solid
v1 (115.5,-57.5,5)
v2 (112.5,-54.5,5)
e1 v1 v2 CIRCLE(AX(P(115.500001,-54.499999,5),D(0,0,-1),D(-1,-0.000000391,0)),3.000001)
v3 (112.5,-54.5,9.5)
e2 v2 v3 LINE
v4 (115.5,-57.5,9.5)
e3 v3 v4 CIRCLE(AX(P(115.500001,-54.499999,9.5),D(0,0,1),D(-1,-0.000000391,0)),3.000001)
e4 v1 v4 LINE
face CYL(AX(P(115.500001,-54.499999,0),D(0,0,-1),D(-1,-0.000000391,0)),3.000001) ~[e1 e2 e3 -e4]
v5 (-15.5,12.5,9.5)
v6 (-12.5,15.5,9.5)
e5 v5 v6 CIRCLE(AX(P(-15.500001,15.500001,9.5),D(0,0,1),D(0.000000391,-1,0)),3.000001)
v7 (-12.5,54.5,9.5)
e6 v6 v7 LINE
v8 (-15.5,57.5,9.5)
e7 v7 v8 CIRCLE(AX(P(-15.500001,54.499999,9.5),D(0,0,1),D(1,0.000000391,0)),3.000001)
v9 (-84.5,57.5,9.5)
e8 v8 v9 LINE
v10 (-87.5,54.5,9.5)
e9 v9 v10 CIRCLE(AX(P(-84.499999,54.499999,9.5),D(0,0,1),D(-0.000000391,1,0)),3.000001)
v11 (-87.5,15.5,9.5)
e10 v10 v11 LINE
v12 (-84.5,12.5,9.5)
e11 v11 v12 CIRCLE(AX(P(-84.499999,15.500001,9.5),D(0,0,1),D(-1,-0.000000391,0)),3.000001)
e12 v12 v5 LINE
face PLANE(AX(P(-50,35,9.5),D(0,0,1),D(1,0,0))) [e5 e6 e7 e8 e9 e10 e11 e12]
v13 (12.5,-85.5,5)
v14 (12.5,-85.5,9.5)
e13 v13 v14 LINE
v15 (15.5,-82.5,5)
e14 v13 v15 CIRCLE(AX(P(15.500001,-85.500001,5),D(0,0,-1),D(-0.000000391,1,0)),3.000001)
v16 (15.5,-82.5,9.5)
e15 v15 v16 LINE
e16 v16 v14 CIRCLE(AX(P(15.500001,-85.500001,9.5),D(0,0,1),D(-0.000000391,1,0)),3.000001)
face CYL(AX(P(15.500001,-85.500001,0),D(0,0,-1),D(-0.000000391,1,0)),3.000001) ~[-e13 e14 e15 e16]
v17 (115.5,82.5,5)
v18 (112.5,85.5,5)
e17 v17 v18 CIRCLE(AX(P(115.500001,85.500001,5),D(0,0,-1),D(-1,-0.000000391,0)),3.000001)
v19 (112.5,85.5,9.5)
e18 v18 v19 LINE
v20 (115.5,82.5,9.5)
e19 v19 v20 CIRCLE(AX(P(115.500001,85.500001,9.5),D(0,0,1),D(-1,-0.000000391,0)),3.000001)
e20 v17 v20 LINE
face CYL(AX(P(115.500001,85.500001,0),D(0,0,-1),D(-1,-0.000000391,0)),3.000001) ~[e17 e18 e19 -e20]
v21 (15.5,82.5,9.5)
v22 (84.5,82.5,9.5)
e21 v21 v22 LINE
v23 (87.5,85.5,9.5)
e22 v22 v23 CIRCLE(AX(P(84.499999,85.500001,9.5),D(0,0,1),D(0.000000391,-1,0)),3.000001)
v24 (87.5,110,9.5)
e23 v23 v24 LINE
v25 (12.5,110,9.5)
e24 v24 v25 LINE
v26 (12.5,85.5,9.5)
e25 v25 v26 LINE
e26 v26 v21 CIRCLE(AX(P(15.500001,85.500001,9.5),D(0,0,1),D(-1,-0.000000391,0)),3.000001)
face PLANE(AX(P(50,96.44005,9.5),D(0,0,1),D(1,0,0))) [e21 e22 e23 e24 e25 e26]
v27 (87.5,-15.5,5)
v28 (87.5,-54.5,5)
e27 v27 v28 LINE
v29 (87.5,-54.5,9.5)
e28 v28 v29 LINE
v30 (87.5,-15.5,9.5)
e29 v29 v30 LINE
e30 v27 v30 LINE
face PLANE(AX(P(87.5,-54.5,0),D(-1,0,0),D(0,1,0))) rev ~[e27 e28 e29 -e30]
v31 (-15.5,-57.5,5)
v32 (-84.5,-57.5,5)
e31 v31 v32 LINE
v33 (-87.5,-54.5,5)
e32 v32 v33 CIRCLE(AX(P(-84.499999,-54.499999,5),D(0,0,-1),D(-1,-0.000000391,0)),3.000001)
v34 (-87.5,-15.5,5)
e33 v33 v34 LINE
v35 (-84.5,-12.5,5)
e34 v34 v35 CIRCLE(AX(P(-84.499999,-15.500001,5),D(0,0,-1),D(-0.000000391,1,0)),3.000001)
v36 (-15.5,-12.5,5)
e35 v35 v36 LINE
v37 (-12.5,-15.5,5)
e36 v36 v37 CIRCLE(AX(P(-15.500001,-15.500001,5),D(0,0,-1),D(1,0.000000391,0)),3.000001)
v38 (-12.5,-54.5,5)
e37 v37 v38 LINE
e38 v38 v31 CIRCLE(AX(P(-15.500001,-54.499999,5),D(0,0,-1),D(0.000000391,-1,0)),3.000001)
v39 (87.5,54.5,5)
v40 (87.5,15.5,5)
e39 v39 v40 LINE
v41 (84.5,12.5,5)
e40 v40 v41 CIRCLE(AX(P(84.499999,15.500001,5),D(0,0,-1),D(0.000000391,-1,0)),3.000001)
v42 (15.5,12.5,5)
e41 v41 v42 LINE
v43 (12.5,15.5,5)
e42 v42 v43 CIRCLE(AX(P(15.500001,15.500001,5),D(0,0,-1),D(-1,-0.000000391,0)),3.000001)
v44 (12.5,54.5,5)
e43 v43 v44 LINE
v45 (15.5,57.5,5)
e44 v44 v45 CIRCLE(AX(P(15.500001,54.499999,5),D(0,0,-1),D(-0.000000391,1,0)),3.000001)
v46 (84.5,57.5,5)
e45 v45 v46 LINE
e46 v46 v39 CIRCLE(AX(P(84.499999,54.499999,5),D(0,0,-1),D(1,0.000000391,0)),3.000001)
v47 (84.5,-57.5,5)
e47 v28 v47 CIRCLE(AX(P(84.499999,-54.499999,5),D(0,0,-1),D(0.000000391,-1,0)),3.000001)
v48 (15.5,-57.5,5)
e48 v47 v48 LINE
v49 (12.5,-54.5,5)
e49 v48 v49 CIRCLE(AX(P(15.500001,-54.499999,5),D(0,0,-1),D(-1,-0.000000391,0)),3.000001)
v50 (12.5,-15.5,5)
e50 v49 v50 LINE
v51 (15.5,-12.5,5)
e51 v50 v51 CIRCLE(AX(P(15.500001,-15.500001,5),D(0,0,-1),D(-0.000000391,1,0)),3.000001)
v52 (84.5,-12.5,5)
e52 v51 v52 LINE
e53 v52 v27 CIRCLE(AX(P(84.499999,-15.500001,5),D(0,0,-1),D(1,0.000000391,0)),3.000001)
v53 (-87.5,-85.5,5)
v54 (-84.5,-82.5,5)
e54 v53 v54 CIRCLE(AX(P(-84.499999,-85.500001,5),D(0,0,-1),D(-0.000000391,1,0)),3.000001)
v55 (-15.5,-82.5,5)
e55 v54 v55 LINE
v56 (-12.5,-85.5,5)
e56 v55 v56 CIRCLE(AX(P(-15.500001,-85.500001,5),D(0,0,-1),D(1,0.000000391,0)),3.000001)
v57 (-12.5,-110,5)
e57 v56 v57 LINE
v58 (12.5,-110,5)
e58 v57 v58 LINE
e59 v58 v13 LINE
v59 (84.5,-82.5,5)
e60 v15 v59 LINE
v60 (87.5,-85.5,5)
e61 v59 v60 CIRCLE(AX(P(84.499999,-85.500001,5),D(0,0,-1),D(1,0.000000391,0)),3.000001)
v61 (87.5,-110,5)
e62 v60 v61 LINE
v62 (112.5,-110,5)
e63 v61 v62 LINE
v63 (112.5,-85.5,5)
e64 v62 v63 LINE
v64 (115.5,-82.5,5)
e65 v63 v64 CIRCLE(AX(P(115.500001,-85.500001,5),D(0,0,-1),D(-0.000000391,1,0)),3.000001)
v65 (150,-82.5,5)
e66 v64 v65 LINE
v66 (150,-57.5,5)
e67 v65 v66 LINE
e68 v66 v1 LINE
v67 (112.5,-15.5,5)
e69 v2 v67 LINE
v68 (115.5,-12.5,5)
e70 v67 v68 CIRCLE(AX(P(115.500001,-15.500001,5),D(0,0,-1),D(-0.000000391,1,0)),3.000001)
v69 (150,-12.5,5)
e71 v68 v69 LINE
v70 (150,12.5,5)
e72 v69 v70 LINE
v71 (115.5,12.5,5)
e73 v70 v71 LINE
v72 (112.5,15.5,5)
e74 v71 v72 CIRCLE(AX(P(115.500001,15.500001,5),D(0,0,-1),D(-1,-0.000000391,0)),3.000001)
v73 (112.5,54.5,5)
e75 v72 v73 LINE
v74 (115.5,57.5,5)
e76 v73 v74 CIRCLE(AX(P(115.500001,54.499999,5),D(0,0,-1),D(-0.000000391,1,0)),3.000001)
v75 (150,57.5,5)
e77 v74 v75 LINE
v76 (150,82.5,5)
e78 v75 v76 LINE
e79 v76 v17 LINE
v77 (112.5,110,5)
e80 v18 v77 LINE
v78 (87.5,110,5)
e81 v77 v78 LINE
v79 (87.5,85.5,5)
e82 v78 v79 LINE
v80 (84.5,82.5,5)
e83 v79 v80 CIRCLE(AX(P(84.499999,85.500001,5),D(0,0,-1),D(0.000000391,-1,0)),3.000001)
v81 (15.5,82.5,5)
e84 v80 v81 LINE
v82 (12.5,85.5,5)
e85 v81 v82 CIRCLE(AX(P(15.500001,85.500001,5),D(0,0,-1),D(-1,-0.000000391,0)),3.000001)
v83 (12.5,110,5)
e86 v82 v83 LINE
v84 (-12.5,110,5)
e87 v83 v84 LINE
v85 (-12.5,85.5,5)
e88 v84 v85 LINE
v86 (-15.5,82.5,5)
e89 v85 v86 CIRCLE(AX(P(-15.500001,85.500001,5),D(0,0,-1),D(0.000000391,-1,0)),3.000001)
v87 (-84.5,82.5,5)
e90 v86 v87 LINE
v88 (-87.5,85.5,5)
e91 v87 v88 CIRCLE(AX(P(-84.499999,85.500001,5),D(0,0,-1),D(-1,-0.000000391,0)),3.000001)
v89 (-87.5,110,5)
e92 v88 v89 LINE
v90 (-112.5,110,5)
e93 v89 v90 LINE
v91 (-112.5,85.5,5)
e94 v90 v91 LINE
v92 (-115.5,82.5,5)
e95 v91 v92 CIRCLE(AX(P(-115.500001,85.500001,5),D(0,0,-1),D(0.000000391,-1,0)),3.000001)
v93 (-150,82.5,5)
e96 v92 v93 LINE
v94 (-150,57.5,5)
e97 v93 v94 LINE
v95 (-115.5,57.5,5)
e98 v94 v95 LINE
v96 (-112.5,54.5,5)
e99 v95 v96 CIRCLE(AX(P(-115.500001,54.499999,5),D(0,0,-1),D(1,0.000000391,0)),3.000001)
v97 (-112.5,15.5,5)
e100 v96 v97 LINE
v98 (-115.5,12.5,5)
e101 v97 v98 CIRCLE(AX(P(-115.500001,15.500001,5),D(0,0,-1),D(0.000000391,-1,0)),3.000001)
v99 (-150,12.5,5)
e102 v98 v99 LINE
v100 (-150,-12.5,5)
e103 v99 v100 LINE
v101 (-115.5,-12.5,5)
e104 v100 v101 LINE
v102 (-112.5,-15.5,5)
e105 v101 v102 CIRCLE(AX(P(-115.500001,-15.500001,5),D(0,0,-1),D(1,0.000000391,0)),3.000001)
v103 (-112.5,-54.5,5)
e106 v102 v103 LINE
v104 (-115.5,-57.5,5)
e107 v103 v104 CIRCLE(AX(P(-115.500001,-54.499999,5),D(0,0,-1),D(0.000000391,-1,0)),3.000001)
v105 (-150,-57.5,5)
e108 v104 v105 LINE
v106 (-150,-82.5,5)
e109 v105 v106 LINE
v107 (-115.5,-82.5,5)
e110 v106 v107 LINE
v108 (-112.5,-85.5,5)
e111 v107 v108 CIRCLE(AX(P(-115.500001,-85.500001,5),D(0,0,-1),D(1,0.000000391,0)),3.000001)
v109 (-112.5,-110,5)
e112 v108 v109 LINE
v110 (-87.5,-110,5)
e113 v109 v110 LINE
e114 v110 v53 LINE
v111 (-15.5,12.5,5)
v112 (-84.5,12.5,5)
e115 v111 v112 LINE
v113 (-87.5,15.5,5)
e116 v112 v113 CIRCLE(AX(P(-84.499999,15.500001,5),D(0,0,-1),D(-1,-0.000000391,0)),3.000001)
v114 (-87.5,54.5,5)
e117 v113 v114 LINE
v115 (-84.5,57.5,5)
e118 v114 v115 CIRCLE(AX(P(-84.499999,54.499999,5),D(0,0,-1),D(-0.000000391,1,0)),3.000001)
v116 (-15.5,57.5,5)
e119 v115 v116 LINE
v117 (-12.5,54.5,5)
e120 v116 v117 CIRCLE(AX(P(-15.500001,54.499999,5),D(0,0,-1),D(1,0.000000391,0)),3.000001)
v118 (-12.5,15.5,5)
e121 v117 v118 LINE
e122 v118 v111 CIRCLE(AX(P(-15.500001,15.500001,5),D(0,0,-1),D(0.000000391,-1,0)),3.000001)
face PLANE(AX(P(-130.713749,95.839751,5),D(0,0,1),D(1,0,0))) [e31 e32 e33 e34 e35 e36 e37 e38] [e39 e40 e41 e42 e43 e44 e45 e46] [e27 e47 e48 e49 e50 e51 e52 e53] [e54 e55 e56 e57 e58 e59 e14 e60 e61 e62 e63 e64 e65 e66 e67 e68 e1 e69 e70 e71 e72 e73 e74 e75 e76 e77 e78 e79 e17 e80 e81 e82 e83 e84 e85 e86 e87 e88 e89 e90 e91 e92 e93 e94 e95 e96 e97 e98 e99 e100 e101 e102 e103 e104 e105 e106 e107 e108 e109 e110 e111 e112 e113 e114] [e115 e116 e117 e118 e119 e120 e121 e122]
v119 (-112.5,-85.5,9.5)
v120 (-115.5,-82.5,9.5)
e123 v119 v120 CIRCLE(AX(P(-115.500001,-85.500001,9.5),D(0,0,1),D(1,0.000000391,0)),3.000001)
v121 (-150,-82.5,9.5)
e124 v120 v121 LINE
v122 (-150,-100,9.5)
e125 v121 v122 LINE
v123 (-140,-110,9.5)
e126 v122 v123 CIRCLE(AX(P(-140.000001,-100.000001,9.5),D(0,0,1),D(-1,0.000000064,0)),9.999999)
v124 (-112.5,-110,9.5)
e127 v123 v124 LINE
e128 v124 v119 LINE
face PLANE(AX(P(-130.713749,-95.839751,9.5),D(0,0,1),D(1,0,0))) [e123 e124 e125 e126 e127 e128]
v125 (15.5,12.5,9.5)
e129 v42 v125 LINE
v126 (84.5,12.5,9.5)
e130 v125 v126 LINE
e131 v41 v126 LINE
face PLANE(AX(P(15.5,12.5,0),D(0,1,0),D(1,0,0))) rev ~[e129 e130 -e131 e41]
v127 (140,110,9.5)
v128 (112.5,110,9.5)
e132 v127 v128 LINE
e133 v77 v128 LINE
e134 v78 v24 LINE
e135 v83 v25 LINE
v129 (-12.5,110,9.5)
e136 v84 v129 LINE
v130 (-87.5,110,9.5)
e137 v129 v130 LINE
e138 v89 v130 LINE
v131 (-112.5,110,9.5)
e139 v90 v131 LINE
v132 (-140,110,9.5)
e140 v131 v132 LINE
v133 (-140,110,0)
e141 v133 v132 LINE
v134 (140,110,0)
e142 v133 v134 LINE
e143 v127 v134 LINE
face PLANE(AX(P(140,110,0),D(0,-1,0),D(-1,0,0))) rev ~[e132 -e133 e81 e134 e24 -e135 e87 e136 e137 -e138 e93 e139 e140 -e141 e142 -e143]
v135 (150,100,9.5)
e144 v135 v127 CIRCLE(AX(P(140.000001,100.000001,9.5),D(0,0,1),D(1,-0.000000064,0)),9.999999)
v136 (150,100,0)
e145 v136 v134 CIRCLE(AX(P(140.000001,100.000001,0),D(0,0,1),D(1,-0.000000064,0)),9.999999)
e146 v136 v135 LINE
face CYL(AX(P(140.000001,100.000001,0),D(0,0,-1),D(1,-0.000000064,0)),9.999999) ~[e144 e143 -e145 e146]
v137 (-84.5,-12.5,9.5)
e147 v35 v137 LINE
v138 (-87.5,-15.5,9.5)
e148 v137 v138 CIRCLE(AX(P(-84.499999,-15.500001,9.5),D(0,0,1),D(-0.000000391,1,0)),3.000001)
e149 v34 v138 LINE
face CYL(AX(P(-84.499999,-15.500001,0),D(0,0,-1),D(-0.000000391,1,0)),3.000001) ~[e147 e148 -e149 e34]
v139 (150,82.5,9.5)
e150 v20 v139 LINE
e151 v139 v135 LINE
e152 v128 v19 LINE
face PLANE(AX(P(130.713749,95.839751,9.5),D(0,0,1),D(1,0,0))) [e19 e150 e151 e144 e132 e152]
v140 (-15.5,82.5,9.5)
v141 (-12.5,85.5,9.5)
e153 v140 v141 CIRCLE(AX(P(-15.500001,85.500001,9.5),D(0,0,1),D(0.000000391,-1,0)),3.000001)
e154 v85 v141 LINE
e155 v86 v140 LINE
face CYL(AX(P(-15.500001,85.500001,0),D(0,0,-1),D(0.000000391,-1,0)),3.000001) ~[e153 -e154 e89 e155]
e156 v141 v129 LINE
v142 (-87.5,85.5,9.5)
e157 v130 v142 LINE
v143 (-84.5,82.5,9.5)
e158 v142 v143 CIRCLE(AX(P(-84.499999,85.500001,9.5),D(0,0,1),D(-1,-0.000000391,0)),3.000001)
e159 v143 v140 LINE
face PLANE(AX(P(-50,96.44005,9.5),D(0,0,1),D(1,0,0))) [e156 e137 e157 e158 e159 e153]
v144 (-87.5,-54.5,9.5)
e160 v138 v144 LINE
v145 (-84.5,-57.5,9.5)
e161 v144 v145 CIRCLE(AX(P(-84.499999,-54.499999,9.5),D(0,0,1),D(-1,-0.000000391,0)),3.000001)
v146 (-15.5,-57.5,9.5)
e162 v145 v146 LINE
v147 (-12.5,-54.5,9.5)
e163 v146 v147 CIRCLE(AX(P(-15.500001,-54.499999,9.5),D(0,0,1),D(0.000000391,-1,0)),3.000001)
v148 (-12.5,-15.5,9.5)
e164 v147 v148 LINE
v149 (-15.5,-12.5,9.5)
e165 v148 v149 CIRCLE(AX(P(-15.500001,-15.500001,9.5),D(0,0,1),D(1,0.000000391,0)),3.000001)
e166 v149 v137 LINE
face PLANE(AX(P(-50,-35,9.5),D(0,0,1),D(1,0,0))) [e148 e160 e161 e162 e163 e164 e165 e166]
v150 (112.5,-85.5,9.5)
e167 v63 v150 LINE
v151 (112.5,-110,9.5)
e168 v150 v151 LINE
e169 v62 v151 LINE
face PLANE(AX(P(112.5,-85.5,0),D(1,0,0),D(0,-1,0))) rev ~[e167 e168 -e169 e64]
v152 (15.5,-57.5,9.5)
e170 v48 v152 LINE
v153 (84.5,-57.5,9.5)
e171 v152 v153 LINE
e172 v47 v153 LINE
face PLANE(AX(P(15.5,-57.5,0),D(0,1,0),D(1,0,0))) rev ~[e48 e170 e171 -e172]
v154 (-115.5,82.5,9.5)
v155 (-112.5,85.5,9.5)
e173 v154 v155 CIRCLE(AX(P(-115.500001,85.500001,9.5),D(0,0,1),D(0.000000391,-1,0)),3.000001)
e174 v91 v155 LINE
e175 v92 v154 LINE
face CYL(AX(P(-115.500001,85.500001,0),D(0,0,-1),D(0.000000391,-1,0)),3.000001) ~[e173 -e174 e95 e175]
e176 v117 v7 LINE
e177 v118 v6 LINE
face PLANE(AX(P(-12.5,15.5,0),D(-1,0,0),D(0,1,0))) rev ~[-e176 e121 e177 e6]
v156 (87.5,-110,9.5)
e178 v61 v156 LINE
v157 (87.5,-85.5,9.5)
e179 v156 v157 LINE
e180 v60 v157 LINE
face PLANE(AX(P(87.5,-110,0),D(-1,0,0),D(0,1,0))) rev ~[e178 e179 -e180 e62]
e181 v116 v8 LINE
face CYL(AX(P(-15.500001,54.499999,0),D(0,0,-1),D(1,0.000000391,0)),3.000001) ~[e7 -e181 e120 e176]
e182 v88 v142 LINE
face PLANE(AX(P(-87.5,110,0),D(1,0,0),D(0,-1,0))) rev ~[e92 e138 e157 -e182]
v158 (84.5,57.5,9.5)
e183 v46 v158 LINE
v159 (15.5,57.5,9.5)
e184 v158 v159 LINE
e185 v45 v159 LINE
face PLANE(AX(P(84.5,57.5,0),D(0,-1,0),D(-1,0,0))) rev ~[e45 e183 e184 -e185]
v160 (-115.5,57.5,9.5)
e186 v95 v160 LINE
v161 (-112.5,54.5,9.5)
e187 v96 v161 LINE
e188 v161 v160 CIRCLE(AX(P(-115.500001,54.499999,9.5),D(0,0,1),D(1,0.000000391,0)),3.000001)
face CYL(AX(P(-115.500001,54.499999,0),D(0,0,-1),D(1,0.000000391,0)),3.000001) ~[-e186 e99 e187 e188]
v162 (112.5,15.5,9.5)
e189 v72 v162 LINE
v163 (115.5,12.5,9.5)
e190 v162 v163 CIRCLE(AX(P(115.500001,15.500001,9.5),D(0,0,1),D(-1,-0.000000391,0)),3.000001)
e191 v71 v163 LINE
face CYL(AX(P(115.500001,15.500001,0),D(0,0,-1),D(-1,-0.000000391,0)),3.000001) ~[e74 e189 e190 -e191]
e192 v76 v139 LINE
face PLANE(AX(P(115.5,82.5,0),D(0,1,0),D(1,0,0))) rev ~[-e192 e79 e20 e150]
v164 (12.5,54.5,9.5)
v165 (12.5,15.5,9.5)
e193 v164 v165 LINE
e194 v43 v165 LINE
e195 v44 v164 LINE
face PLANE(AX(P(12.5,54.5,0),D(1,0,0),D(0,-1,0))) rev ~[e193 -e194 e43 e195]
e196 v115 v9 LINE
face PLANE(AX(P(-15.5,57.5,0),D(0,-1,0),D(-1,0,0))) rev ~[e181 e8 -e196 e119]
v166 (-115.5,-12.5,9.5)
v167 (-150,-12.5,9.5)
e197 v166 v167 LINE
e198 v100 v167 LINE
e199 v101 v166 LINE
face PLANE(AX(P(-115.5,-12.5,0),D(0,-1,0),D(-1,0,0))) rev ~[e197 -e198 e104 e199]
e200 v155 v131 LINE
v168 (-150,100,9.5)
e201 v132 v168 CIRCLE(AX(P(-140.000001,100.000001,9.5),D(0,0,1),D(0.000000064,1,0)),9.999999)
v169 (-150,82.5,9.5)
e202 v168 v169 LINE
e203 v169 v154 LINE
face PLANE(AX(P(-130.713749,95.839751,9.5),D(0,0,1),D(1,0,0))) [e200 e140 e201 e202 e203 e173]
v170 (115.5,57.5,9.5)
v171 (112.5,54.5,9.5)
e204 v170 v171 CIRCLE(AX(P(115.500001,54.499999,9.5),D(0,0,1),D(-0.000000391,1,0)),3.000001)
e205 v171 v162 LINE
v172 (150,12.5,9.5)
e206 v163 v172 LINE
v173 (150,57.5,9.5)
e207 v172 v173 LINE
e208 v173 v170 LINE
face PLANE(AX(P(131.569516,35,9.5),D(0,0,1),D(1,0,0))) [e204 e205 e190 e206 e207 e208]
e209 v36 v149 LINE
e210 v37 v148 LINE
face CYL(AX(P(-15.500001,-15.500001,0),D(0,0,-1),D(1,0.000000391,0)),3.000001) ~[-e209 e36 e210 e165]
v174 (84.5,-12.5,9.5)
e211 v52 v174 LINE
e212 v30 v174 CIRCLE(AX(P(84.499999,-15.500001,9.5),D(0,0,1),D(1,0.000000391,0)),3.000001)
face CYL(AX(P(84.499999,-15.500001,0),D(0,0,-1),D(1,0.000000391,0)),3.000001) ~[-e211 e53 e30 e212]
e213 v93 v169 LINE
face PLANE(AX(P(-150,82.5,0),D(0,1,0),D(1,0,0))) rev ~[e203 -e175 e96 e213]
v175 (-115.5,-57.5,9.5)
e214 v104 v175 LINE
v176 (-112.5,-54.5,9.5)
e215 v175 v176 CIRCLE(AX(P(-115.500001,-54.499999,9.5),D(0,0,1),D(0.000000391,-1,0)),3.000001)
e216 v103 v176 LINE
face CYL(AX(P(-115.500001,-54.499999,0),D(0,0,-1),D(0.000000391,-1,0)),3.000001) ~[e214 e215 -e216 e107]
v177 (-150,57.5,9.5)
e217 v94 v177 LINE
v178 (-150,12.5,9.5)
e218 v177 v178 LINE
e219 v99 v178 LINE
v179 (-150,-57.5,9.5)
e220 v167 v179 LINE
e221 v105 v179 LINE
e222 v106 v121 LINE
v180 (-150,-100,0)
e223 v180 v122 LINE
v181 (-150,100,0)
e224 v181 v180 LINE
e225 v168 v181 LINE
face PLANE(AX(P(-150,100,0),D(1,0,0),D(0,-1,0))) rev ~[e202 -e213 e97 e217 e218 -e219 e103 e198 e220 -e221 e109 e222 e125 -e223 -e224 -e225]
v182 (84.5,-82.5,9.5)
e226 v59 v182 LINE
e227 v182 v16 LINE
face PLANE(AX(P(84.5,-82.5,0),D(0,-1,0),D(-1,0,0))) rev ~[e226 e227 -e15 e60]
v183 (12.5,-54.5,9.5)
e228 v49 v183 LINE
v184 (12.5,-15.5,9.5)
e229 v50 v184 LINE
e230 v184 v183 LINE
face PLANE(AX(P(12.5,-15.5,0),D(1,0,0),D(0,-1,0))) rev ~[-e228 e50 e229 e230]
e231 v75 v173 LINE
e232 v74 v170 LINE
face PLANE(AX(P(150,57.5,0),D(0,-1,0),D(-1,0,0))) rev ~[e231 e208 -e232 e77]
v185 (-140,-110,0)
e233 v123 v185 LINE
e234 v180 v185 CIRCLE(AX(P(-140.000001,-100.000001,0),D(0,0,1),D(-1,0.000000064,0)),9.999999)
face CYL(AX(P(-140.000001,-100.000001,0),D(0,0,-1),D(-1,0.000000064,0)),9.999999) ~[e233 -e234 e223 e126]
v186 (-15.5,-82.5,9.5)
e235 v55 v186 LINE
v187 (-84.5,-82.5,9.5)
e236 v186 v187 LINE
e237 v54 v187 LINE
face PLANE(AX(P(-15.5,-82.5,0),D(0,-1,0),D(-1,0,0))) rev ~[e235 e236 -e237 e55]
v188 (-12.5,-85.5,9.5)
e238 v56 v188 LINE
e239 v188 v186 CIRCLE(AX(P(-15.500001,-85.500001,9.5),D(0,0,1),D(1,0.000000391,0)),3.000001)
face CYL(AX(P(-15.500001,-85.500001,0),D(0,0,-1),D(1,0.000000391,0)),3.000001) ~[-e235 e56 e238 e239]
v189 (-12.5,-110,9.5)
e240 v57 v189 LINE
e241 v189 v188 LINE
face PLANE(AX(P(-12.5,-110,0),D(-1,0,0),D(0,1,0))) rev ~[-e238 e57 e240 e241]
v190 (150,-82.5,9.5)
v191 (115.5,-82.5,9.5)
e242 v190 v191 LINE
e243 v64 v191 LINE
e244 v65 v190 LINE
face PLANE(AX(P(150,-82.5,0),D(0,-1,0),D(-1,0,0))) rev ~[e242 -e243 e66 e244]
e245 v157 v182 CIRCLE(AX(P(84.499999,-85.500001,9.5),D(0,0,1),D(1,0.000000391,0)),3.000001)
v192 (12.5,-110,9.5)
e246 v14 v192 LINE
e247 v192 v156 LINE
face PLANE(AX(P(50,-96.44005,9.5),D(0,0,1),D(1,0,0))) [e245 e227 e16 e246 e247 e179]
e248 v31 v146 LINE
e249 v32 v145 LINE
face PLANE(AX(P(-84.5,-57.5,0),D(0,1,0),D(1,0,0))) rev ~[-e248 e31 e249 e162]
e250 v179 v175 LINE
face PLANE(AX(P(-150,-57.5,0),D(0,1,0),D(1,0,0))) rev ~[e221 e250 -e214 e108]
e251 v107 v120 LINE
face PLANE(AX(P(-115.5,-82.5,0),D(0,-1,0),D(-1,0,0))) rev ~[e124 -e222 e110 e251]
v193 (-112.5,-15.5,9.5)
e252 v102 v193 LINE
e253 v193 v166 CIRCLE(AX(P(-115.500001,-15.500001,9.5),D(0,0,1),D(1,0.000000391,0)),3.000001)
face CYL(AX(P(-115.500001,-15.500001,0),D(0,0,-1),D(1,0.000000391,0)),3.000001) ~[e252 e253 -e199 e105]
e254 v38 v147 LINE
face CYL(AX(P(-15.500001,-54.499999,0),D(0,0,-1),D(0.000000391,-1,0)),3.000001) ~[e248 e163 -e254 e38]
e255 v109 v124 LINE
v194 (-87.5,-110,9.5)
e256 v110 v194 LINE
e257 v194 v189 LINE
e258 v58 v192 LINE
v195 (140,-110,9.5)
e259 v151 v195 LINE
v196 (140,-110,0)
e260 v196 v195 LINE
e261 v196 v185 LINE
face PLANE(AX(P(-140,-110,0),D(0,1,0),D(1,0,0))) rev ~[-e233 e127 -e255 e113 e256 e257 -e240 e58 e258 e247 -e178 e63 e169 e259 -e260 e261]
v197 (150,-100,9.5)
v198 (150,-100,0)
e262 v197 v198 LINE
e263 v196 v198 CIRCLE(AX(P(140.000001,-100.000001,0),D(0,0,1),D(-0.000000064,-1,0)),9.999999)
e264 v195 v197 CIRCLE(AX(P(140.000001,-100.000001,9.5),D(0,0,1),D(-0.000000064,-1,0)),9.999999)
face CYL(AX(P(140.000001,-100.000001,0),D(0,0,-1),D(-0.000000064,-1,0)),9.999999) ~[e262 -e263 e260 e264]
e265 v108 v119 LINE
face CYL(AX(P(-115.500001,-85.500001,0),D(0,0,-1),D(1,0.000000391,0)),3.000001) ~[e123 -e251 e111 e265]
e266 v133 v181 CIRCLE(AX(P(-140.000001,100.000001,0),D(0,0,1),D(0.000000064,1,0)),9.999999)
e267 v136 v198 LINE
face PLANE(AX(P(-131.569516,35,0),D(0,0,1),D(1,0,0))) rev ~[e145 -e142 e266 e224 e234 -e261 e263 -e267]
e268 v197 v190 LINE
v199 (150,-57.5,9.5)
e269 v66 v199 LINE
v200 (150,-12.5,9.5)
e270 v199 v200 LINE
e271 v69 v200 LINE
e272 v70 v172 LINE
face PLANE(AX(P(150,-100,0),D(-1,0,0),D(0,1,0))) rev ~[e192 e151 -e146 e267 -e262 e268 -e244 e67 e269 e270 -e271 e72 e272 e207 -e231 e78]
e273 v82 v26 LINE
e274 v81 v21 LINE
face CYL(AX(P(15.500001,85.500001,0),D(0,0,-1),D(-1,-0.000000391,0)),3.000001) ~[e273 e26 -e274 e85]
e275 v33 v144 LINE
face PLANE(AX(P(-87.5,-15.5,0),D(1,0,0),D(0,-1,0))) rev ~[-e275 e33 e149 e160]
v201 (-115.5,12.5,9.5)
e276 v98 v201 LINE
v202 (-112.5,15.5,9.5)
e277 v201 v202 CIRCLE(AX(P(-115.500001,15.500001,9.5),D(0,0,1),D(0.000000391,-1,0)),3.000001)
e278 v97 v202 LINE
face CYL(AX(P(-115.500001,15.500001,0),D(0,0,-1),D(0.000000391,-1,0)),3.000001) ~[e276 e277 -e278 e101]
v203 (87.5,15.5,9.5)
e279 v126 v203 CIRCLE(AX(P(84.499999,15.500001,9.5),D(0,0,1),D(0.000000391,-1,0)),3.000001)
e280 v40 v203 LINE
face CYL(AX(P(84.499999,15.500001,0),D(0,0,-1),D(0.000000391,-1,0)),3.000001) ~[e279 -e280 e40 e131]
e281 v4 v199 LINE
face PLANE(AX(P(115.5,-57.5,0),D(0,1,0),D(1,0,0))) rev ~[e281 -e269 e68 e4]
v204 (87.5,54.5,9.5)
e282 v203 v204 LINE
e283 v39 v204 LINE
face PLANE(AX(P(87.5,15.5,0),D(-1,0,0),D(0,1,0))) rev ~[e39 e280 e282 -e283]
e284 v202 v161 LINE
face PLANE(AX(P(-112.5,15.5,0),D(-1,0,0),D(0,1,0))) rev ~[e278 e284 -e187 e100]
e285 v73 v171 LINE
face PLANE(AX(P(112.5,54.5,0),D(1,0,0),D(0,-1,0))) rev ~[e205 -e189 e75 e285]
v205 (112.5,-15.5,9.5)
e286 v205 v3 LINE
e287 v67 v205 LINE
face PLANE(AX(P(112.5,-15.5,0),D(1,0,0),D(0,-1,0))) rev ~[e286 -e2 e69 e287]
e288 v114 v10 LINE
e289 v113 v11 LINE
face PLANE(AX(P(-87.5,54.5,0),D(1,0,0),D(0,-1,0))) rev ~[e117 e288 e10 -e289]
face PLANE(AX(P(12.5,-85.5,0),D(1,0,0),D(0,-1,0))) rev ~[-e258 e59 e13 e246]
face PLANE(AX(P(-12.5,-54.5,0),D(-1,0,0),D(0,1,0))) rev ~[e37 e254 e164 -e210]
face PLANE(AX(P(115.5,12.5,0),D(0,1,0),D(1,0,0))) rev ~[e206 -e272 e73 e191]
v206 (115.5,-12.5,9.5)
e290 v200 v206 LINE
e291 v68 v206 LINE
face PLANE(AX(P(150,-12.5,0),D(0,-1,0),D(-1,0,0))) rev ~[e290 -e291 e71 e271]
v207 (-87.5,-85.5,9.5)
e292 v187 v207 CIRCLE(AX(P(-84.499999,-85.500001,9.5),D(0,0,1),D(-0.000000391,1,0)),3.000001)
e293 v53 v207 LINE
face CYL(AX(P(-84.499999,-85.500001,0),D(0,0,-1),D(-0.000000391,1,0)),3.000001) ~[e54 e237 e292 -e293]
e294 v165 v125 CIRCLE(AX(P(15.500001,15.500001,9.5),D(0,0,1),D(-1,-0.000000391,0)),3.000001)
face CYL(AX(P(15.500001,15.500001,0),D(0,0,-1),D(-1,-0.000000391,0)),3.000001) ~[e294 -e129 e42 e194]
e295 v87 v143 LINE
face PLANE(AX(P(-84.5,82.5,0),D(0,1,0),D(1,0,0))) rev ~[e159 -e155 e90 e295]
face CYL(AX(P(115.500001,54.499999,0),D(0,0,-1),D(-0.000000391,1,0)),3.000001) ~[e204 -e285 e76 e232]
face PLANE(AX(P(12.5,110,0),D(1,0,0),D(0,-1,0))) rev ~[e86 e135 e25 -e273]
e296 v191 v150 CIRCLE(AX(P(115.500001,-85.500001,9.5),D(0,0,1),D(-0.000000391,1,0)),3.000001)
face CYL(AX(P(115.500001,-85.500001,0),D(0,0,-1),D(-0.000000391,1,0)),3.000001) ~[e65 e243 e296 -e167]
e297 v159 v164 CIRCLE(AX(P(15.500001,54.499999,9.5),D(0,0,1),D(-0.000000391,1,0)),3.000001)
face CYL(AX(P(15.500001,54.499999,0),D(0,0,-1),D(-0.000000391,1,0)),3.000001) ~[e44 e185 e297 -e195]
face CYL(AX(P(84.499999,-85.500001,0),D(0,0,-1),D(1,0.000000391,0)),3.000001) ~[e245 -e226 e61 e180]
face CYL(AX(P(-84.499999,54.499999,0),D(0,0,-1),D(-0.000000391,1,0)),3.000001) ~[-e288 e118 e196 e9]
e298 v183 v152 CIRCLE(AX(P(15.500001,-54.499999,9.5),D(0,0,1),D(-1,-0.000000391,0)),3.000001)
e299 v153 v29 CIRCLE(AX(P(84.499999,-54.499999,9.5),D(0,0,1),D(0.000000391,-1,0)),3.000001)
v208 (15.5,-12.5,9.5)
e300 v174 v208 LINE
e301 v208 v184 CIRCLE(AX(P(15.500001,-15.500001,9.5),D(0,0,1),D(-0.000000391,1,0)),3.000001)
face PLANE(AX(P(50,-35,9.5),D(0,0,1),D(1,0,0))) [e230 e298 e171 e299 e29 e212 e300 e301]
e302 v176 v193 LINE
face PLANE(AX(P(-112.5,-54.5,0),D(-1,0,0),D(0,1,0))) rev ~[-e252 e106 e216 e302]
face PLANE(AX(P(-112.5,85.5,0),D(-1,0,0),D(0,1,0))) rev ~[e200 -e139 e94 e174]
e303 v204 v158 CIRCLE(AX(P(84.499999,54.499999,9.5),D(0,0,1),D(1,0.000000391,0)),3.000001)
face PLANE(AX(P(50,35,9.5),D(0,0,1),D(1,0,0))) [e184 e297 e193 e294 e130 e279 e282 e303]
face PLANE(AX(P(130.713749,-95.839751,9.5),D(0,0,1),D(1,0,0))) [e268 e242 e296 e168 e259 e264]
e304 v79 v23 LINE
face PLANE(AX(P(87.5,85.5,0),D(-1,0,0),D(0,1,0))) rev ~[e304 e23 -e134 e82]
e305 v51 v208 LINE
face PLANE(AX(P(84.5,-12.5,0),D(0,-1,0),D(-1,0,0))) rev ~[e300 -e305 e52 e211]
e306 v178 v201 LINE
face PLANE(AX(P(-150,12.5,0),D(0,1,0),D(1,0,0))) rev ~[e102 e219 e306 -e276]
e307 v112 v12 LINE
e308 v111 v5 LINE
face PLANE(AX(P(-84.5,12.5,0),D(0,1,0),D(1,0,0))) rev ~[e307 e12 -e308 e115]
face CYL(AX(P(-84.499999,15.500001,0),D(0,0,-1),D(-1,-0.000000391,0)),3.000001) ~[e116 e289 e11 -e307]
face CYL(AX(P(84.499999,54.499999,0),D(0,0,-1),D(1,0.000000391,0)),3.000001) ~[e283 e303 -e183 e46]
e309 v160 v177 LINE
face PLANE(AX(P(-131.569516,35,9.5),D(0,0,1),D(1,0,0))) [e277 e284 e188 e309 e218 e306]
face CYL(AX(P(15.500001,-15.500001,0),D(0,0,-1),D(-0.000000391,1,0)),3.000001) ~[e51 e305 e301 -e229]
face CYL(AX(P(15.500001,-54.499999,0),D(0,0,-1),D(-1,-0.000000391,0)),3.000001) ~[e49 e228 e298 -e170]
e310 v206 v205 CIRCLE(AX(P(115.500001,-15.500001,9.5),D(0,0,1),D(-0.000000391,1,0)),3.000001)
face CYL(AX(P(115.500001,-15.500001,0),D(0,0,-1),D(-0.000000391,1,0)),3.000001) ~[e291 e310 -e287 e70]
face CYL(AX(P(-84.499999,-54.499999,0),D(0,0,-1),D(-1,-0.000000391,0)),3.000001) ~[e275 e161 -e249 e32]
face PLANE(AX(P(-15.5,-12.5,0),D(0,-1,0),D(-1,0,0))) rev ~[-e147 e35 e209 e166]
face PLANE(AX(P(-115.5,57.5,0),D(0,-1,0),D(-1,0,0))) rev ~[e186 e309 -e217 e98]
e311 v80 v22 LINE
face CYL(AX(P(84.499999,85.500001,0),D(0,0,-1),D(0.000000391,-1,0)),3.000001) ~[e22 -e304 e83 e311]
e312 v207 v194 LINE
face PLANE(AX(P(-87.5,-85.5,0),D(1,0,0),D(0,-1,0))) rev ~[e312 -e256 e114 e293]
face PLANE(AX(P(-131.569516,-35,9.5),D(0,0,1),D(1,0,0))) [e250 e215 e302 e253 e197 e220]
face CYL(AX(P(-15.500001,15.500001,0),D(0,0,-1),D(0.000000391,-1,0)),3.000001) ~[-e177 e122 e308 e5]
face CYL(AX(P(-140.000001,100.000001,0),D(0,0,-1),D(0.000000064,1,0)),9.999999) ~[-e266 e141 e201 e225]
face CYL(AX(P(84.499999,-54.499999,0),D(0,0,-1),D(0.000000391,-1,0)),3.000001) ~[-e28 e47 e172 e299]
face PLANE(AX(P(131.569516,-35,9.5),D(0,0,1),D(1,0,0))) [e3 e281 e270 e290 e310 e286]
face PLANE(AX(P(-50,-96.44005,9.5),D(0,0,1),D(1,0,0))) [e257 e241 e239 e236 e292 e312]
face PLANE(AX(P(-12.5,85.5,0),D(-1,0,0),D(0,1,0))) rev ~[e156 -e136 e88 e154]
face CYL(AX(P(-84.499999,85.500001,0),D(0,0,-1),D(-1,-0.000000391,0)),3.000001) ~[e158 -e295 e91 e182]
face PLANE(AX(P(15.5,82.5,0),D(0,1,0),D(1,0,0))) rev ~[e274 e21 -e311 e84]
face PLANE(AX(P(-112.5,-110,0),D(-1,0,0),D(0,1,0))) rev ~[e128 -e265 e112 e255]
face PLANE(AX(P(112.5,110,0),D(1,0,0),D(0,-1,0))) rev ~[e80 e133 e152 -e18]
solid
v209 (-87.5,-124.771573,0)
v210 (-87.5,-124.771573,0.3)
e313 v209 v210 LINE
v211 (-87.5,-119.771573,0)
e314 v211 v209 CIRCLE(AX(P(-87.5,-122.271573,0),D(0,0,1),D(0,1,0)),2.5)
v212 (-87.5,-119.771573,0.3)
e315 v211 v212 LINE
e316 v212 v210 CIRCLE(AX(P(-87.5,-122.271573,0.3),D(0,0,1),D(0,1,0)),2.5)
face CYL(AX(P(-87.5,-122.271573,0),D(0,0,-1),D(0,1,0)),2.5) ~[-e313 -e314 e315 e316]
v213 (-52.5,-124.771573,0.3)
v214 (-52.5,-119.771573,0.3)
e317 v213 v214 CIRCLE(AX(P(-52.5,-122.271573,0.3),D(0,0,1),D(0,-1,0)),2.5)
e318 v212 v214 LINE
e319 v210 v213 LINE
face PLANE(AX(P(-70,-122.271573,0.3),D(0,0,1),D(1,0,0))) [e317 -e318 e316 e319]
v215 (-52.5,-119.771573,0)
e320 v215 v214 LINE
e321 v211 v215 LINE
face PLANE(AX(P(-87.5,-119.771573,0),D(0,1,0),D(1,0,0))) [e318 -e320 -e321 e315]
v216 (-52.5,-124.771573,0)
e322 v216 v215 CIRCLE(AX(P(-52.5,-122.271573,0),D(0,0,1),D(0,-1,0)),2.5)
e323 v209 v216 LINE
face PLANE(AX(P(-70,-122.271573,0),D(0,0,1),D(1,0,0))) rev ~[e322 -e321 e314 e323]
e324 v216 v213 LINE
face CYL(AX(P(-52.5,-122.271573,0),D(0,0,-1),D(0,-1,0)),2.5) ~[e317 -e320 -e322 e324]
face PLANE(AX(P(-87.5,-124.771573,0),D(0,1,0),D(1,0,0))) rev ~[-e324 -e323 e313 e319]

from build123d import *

# Parameters (mm, degrees)
F1_DEPTH = 5
F2_DEPTH = 9.5
F0_W     = 35
F0_H     = 5
F3_DEPTH = 0.3


with BuildPart() as f1:
    # F0 (on Top) → F1 (new body)
    with BuildSketch(Plane.XY):
        with BuildLine():
            Line((-150, 100), (-150, 82.5))
            Line((-150, 82.5), (-115.5, 82.5))
            ThreePointArc((-115.5, 82.5), (-113.37868, 83.37868), (-112.5, 85.5))
            Line((-112.5, 85.5), (-112.5, 110))
            Line((-112.5, 110), (-140, 110))
            ThreePointArc((-140, 110), (-147.071068, 107.071068), (-150, 100))
        make_face()
        with BuildLine():
            Line((87.5, -110), (112.5, -110))
            Line((112.5, -110), (112.5, -85.5))
            ThreePointArc((112.5, -85.5), (113.37868, -83.37868), (115.5, -82.5))
            Line((115.5, -82.5), (150, -82.5))
            Line((150, -82.5), (150, -57.5))
            Line((150, -57.5), (115.5, -57.5))
            ThreePointArc((115.5, -57.5), (113.37868, -56.62132), (112.5, -54.5))
            Line((112.5, -54.5), (112.5, -15.5))
            ThreePointArc((112.5, -15.5), (113.37868, -13.37868), (115.5, -12.5))
            Line((115.5, -12.5), (150, -12.5))
            Line((150, -12.5), (150, 12.5))
            Line((150, 12.5), (115.5, 12.5))
            ThreePointArc((115.5, 12.5), (113.37868, 13.37868), (112.5, 15.5))
            Line((112.5, 15.5), (112.5, 54.5))
            ThreePointArc((112.5, 54.5), (113.37868, 56.62132), (115.5, 57.5))
            Line((115.5, 57.5), (150, 57.5))
            Line((150, 57.5), (150, 82.5))
            Line((150, 82.5), (115.5, 82.5))
            ThreePointArc((115.5, 82.5), (113.37868, 83.37868), (112.5, 85.5))
            Line((112.5, 85.5), (112.5, 110))
            Line((112.5, 110), (87.5, 110))
            Line((87.5, 110), (87.5, 85.5))
            ThreePointArc((87.5, 85.5), (86.62132, 83.37868), (84.5, 82.5))
            Line((84.5, 82.5), (15.5, 82.5))
            ThreePointArc((15.5, 82.5), (13.37868, 83.37868), (12.5, 85.5))
            Line((12.5, 85.5), (12.5, 110))
            Line((12.5, 110), (-12.5, 110))
            Line((-12.5, 110), (-12.5, 85.5))
            ThreePointArc((-12.5, 85.5), (-13.37868, 83.37868), (-15.5, 82.5))
            Line((-15.5, 82.5), (-84.5, 82.5))
            ThreePointArc((-84.5, 82.5), (-86.62132, 83.37868), (-87.5, 85.5))
            Line((-87.5, 85.5), (-87.5, 110))
            Line((-87.5, 110), (-112.5, 110))
            Line((-112.5, 110), (-112.5, 85.5))
            ThreePointArc((-112.5, 85.5), (-113.37868, 83.37868), (-115.5, 82.5))
            Line((-115.5, 82.5), (-150, 82.5))
            Line((-150, 82.5), (-150, 57.5))
            Line((-150, 57.5), (-115.5, 57.5))
            ThreePointArc((-115.5, 57.5), (-113.37868, 56.62132), (-112.5, 54.5))
            Line((-112.5, 54.5), (-112.5, 15.5))
            ThreePointArc((-112.5, 15.5), (-113.37868, 13.37868), (-115.5, 12.5))
            Line((-115.5, 12.5), (-150, 12.5))
            Line((-150, 12.5), (-150, -12.5))
            Line((-150, -12.5), (-115.5, -12.5))
            ThreePointArc((-115.5, -12.5), (-113.37868, -13.37868), (-112.5, -15.5))
            Line((-112.5, -15.5), (-112.5, -54.5))
            ThreePointArc((-112.5, -54.5), (-113.37868, -56.62132), (-115.5, -57.5))
            Line((-115.5, -57.5), (-150, -57.5))
            Line((-150, -57.5), (-150, -82.5))
            Line((-150, -82.5), (-115.5, -82.5))
            ThreePointArc((-115.5, -82.5), (-113.37868, -83.37868), (-112.5, -85.5))
            Line((-112.5, -85.5), (-112.5, -110))
            Line((-112.5, -110), (-87.5, -110))
            Line((-87.5, -110), (-87.5, -85.5))
            ThreePointArc((-87.5, -85.5), (-86.62132, -83.37868), (-84.5, -82.5))
            Line((-84.5, -82.5), (-15.5, -82.5))
            ThreePointArc((-15.5, -82.5), (-13.37868, -83.37868), (-12.5, -85.5))
            Line((-12.5, -85.5), (-12.5, -110))
            Line((-12.5, -110), (12.5, -110))
            Line((12.5, -110), (12.5, -85.5))
            ThreePointArc((12.5, -85.5), (13.37868, -83.37868), (15.5, -82.5))
            Line((15.5, -82.5), (84.5, -82.5))
            ThreePointArc((84.5, -82.5), (86.62132, -83.37868), (87.5, -85.5))
            Line((87.5, -85.5), (87.5, -110))
        make_face()
        with BuildLine():
            ThreePointArc((-87.5, -15.5), (-86.62132, -13.37868), (-84.5, -12.5))
            Line((-84.5, -12.5), (-15.5, -12.5))
            ThreePointArc((-15.5, -12.5), (-13.37868, -13.37868), (-12.5, -15.5))
            Line((-12.5, -15.5), (-12.5, -54.5))
            ThreePointArc((-12.5, -54.5), (-13.37868, -56.62132), (-15.5, -57.5))
            Line((-15.5, -57.5), (-84.5, -57.5))
            ThreePointArc((-84.5, -57.5), (-86.62132, -56.62132), (-87.5, -54.5))
            Line((-87.5, -54.5), (-87.5, -15.5))
        make_face(mode=Mode.SUBTRACT)
        with BuildLine():
            Line((12.5, -54.5), (12.5, -15.5))
            ThreePointArc((12.5, -15.5), (13.37868, -13.37868), (15.5, -12.5))
            Line((15.5, -12.5), (84.5, -12.5))
            ThreePointArc((84.5, -12.5), (86.62132, -13.37868), (87.5, -15.5))
            Line((87.5, -15.5), (87.5, -54.5))
            ThreePointArc((87.5, -54.5), (86.62132, -56.62132), (84.5, -57.5))
            Line((84.5, -57.5), (15.5, -57.5))
            ThreePointArc((15.5, -57.5), (13.37868, -56.62132), (12.5, -54.5))
        make_face(mode=Mode.SUBTRACT)
        with BuildLine():
            ThreePointArc((-87.5, 54.5), (-86.62132, 56.62132), (-84.5, 57.5))
            Line((-84.5, 57.5), (-15.5, 57.5))
            ThreePointArc((-15.5, 57.5), (-13.37868, 56.62132), (-12.5, 54.5))
            Line((-12.5, 54.5), (-12.5, 15.5))
            ThreePointArc((-12.5, 15.5), (-13.37868, 13.37868), (-15.5, 12.5))
            Line((-15.5, 12.5), (-84.5, 12.5))
            ThreePointArc((-84.5, 12.5), (-86.62132, 13.37868), (-87.5, 15.5))
            Line((-87.5, 15.5), (-87.5, 54.5))
        make_face(mode=Mode.SUBTRACT)
        with BuildLine():
            Line((12.5, 15.5), (12.5, 54.5))
            ThreePointArc((12.5, 54.5), (13.37868, 56.62132), (15.5, 57.5))
            Line((15.5, 57.5), (84.5, 57.5))
            ThreePointArc((84.5, 57.5), (86.62132, 56.62132), (87.5, 54.5))
            Line((87.5, 54.5), (87.5, 15.5))
            ThreePointArc((87.5, 15.5), (86.62132, 13.37868), (84.5, 12.5))
            Line((84.5, 12.5), (15.5, 12.5))
            ThreePointArc((15.5, 12.5), (13.37868, 13.37868), (12.5, 15.5))
        make_face(mode=Mode.SUBTRACT)
        with BuildLine():
            Line((-12.5, 85.5), (-12.5, 110))
            Line((-12.5, 110), (-87.5, 110))
            Line((-87.5, 110), (-87.5, 85.5))
            ThreePointArc((-87.5, 85.5), (-86.62132, 83.37868), (-84.5, 82.5))
            Line((-84.5, 82.5), (-15.5, 82.5))
            ThreePointArc((-15.5, 82.5), (-13.37868, 83.37868), (-12.5, 85.5))
        make_face()
        with BuildLine():
            Line((87.5, 85.5), (87.5, 110))
            Line((87.5, 110), (12.5, 110))
            Line((12.5, 110), (12.5, 85.5))
            ThreePointArc((12.5, 85.5), (13.37868, 83.37868), (15.5, 82.5))
            Line((15.5, 82.5), (84.5, 82.5))
            ThreePointArc((84.5, 82.5), (86.62132, 83.37868), (87.5, 85.5))
        make_face()
        with BuildLine():
            Line((115.5, 82.5), (150, 82.5))
            Line((150, 82.5), (150, 100))
            ThreePointArc((150, 100), (147.071068, 107.071068), (140, 110))
            Line((140, 110), (112.5, 110))
            Line((112.5, 110), (112.5, 85.5))
            ThreePointArc((112.5, 85.5), (113.37868, 83.37868), (115.5, 82.5))
        make_face()
        with BuildLine():
            Line((115.5, 12.5), (150, 12.5))
            Line((150, 12.5), (150, 57.5))
            Line((150, 57.5), (115.5, 57.5))
            ThreePointArc((115.5, 57.5), (113.37868, 56.62132), (112.5, 54.5))
            Line((112.5, 54.5), (112.5, 15.5))
            ThreePointArc((112.5, 15.5), (113.37868, 13.37868), (115.5, 12.5))
        make_face()
        with BuildLine():
            ThreePointArc((15.5, 57.5), (13.37868, 56.62132), (12.5, 54.5))
            Line((12.5, 54.5), (12.5, 15.5))
            ThreePointArc((12.5, 15.5), (13.37868, 13.37868), (15.5, 12.5))
            Line((15.5, 12.5), (84.5, 12.5))
            ThreePointArc((84.5, 12.5), (86.62132, 13.37868), (87.5, 15.5))
            Line((87.5, 15.5), (87.5, 54.5))
            ThreePointArc((87.5, 54.5), (86.62132, 56.62132), (84.5, 57.5))
            Line((84.5, 57.5), (15.5, 57.5))
        make_face()
        with BuildLine():
            Line((-15.5, 57.5), (-84.5, 57.5))
            ThreePointArc((-84.5, 57.5), (-86.62132, 56.62132), (-87.5, 54.5))
            Line((-87.5, 54.5), (-87.5, 15.5))
            ThreePointArc((-87.5, 15.5), (-86.62132, 13.37868), (-84.5, 12.5))
            Line((-84.5, 12.5), (-15.5, 12.5))
            ThreePointArc((-15.5, 12.5), (-13.37868, 13.37868), (-12.5, 15.5))
            Line((-12.5, 15.5), (-12.5, 54.5))
            ThreePointArc((-12.5, 54.5), (-13.37868, 56.62132), (-15.5, 57.5))
        make_face()
        with BuildLine():
            Line((-150, 57.5), (-150, 12.5))
            Line((-150, 12.5), (-115.5, 12.5))
            ThreePointArc((-115.5, 12.5), (-113.37868, 13.37868), (-112.5, 15.5))
            Line((-112.5, 15.5), (-112.5, 54.5))
            ThreePointArc((-112.5, 54.5), (-113.37868, 56.62132), (-115.5, 57.5))
            Line((-115.5, 57.5), (-150, 57.5))
        make_face()
        with BuildLine():
            Line((-150, -12.5), (-150, -57.5))
            Line((-150, -57.5), (-115.5, -57.5))
            ThreePointArc((-115.5, -57.5), (-113.37868, -56.62132), (-112.5, -54.5))
            Line((-112.5, -54.5), (-112.5, -15.5))
            ThreePointArc((-112.5, -15.5), (-113.37868, -13.37868), (-115.5, -12.5))
            Line((-115.5, -12.5), (-150, -12.5))
        make_face()
        with BuildLine():
            Line((-15.5, -12.5), (-84.5, -12.5))
            ThreePointArc((-84.5, -12.5), (-86.62132, -13.37868), (-87.5, -15.5))
            Line((-87.5, -15.5), (-87.5, -54.5))
            ThreePointArc((-87.5, -54.5), (-86.62132, -56.62132), (-84.5, -57.5))
            Line((-84.5, -57.5), (-15.5, -57.5))
            ThreePointArc((-15.5, -57.5), (-13.37868, -56.62132), (-12.5, -54.5))
            Line((-12.5, -54.5), (-12.5, -15.5))
            ThreePointArc((-12.5, -15.5), (-13.37868, -13.37868), (-15.5, -12.5))
        make_face()
        with BuildLine():
            ThreePointArc((15.5, -12.5), (13.37868, -13.37868), (12.5, -15.5))
            Line((12.5, -15.5), (12.5, -54.5))
            ThreePointArc((12.5, -54.5), (13.37868, -56.62132), (15.5, -57.5))
            Line((15.5, -57.5), (84.5, -57.5))
            ThreePointArc((84.5, -57.5), (86.62132, -56.62132), (87.5, -54.5))
            Line((87.5, -54.5), (87.5, -15.5))
            ThreePointArc((87.5, -15.5), (86.62132, -13.37868), (84.5, -12.5))
            Line((84.5, -12.5), (15.5, -12.5))
        make_face()
        with BuildLine():
            Line((115.5, -57.5), (150, -57.5))
            Line((150, -57.5), (150, -12.5))
            Line((150, -12.5), (115.5, -12.5))
            ThreePointArc((115.5, -12.5), (113.37868, -13.37868), (112.5, -15.5))
            Line((112.5, -15.5), (112.5, -54.5))
            ThreePointArc((112.5, -54.5), (113.37868, -56.62132), (115.5, -57.5))
        make_face()
        with BuildLine():
            Line((112.5, -110), (140, -110))
            ThreePointArc((140, -110), (147.071068, -107.071068), (150, -100))
            Line((150, -100), (150, -82.5))
            Line((150, -82.5), (115.5, -82.5))
            ThreePointArc((115.5, -82.5), (113.37868, -83.37868), (112.5, -85.5))
            Line((112.5, -85.5), (112.5, -110))
        make_face()
        with BuildLine():
            Line((12.5, -110), (87.5, -110))
            Line((87.5, -110), (87.5, -85.5))
            ThreePointArc((87.5, -85.5), (86.62132, -83.37868), (84.5, -82.5))
            Line((84.5, -82.5), (15.5, -82.5))
            ThreePointArc((15.5, -82.5), (13.37868, -83.37868), (12.5, -85.5))
            Line((12.5, -85.5), (12.5, -110))
        make_face()
        with BuildLine():
            Line((-87.5, -110), (-12.5, -110))
            Line((-12.5, -110), (-12.5, -85.5))
            ThreePointArc((-12.5, -85.5), (-13.37868, -83.37868), (-15.5, -82.5))
            Line((-15.5, -82.5), (-84.5, -82.5))
            ThreePointArc((-84.5, -82.5), (-86.62132, -83.37868), (-87.5, -85.5))
            Line((-87.5, -85.5), (-87.5, -110))
        make_face()
        with BuildLine():
            Line((-140, -110), (-112.5, -110))
            Line((-112.5, -110), (-112.5, -85.5))
            ThreePointArc((-112.5, -85.5), (-113.37868, -83.37868), (-115.5, -82.5))
            Line((-115.5, -82.5), (-150, -82.5))
            Line((-150, -82.5), (-150, -100))
            ThreePointArc((-150, -100), (-147.071068, -107.071068), (-140, -110))
        make_face()
    extrude(amount=F1_DEPTH)

    # F0 (on Top) → F2 (join)
    with BuildSketch(Plane.XY):
        with BuildLine():
            Line((-150, 57.5), (-150, 12.5))
            Line((-150, 12.5), (-115.5, 12.5))
            ThreePointArc((-115.5, 12.5), (-113.37868, 13.37868), (-112.5, 15.5))
            Line((-112.5, 15.5), (-112.5, 54.5))
            ThreePointArc((-112.5, 54.5), (-113.37868, 56.62132), (-115.5, 57.5))
            Line((-115.5, 57.5), (-150, 57.5))
        make_face()
        with BuildLine():
            Line((-150, 100), (-150, 82.5))
            Line((-150, 82.5), (-115.5, 82.5))
            ThreePointArc((-115.5, 82.5), (-113.37868, 83.37868), (-112.5, 85.5))
            Line((-112.5, 85.5), (-112.5, 110))
            Line((-112.5, 110), (-140, 110))
            ThreePointArc((-140, 110), (-147.071068, 107.071068), (-150, 100))
        make_face()
        with BuildLine():
            Line((-12.5, 85.5), (-12.5, 110))
            Line((-12.5, 110), (-87.5, 110))
            Line((-87.5, 110), (-87.5, 85.5))
            ThreePointArc((-87.5, 85.5), (-86.62132, 83.37868), (-84.5, 82.5))
            Line((-84.5, 82.5), (-15.5, 82.5))
            ThreePointArc((-15.5, 82.5), (-13.37868, 83.37868), (-12.5, 85.5))
        make_face()
        with BuildLine():
            Line((-15.5, 57.5), (-84.5, 57.5))
            ThreePointArc((-84.5, 57.5), (-86.62132, 56.62132), (-87.5, 54.5))
            Line((-87.5, 54.5), (-87.5, 15.5))
            ThreePointArc((-87.5, 15.5), (-86.62132, 13.37868), (-84.5, 12.5))
            Line((-84.5, 12.5), (-15.5, 12.5))
            ThreePointArc((-15.5, 12.5), (-13.37868, 13.37868), (-12.5, 15.5))
            Line((-12.5, 15.5), (-12.5, 54.5))
            ThreePointArc((-12.5, 54.5), (-13.37868, 56.62132), (-15.5, 57.5))
        make_face()
        with BuildLine():
            Line((-15.5, -12.5), (-84.5, -12.5))
            ThreePointArc((-84.5, -12.5), (-86.62132, -13.37868), (-87.5, -15.5))
            Line((-87.5, -15.5), (-87.5, -54.5))
            ThreePointArc((-87.5, -54.5), (-86.62132, -56.62132), (-84.5, -57.5))
            Line((-84.5, -57.5), (-15.5, -57.5))
            ThreePointArc((-15.5, -57.5), (-13.37868, -56.62132), (-12.5, -54.5))
            Line((-12.5, -54.5), (-12.5, -15.5))
            ThreePointArc((-12.5, -15.5), (-13.37868, -13.37868), (-15.5, -12.5))
        make_face()
        with BuildLine():
            Line((-150, -12.5), (-150, -57.5))
            Line((-150, -57.5), (-115.5, -57.5))
            ThreePointArc((-115.5, -57.5), (-113.37868, -56.62132), (-112.5, -54.5))
            Line((-112.5, -54.5), (-112.5, -15.5))
            ThreePointArc((-112.5, -15.5), (-113.37868, -13.37868), (-115.5, -12.5))
            Line((-115.5, -12.5), (-150, -12.5))
        make_face()
        with BuildLine():
            Line((-140, -110), (-112.5, -110))
            Line((-112.5, -110), (-112.5, -85.5))
            ThreePointArc((-112.5, -85.5), (-113.37868, -83.37868), (-115.5, -82.5))
            Line((-115.5, -82.5), (-150, -82.5))
            Line((-150, -82.5), (-150, -100))
            ThreePointArc((-150, -100), (-147.071068, -107.071068), (-140, -110))
        make_face()
        with BuildLine():
            Line((-87.5, -110), (-12.5, -110))
            Line((-12.5, -110), (-12.5, -85.5))
            ThreePointArc((-12.5, -85.5), (-13.37868, -83.37868), (-15.5, -82.5))
            Line((-15.5, -82.5), (-84.5, -82.5))
            ThreePointArc((-84.5, -82.5), (-86.62132, -83.37868), (-87.5, -85.5))
            Line((-87.5, -85.5), (-87.5, -110))
        make_face()
        with BuildLine():
            Line((12.5, -110), (87.5, -110))
            Line((87.5, -110), (87.5, -85.5))
            ThreePointArc((87.5, -85.5), (86.62132, -83.37868), (84.5, -82.5))
            Line((84.5, -82.5), (15.5, -82.5))
            ThreePointArc((15.5, -82.5), (13.37868, -83.37868), (12.5, -85.5))
            Line((12.5, -85.5), (12.5, -110))
        make_face()
        with BuildLine():
            ThreePointArc((15.5, -12.5), (13.37868, -13.37868), (12.5, -15.5))
            Line((12.5, -15.5), (12.5, -54.5))
            ThreePointArc((12.5, -54.5), (13.37868, -56.62132), (15.5, -57.5))
            Line((15.5, -57.5), (84.5, -57.5))
            ThreePointArc((84.5, -57.5), (86.62132, -56.62132), (87.5, -54.5))
            Line((87.5, -54.5), (87.5, -15.5))
            ThreePointArc((87.5, -15.5), (86.62132, -13.37868), (84.5, -12.5))
            Line((84.5, -12.5), (15.5, -12.5))
        make_face()
        with BuildLine():
            ThreePointArc((15.5, 57.5), (13.37868, 56.62132), (12.5, 54.5))
            Line((12.5, 54.5), (12.5, 15.5))
            ThreePointArc((12.5, 15.5), (13.37868, 13.37868), (15.5, 12.5))
            Line((15.5, 12.5), (84.5, 12.5))
            ThreePointArc((84.5, 12.5), (86.62132, 13.37868), (87.5, 15.5))
            Line((87.5, 15.5), (87.5, 54.5))
            ThreePointArc((87.5, 54.5), (86.62132, 56.62132), (84.5, 57.5))
            Line((84.5, 57.5), (15.5, 57.5))
        make_face()
        with BuildLine():
            Line((87.5, 85.5), (87.5, 110))
            Line((87.5, 110), (12.5, 110))
            Line((12.5, 110), (12.5, 85.5))
            ThreePointArc((12.5, 85.5), (13.37868, 83.37868), (15.5, 82.5))
            Line((15.5, 82.5), (84.5, 82.5))
            ThreePointArc((84.5, 82.5), (86.62132, 83.37868), (87.5, 85.5))
        make_face()
        with BuildLine():
            Line((115.5, 82.5), (150, 82.5))
            Line((150, 82.5), (150, 100))
            ThreePointArc((150, 100), (147.071068, 107.071068), (140, 110))
            Line((140, 110), (112.5, 110))
            Line((112.5, 110), (112.5, 85.5))
            ThreePointArc((112.5, 85.5), (113.37868, 83.37868), (115.5, 82.5))
        make_face()
        with BuildLine():
            Line((115.5, 12.5), (150, 12.5))
            Line((150, 12.5), (150, 57.5))
            Line((150, 57.5), (115.5, 57.5))
            ThreePointArc((115.5, 57.5), (113.37868, 56.62132), (112.5, 54.5))
            Line((112.5, 54.5), (112.5, 15.5))
            ThreePointArc((112.5, 15.5), (113.37868, 13.37868), (115.5, 12.5))
        make_face()
        with BuildLine():
            Line((115.5, -57.5), (150, -57.5))
            Line((150, -57.5), (150, -12.5))
            Line((150, -12.5), (115.5, -12.5))
            ThreePointArc((115.5, -12.5), (113.37868, -13.37868), (112.5, -15.5))
            Line((112.5, -15.5), (112.5, -54.5))
            ThreePointArc((112.5, -54.5), (113.37868, -56.62132), (115.5, -57.5))
        make_face()
        with BuildLine():
            Line((112.5, -110), (140, -110))
            ThreePointArc((140, -110), (147.071068, -107.071068), (150, -100))
            Line((150, -100), (150, -82.5))
            Line((150, -82.5), (115.5, -82.5))
            ThreePointArc((115.5, -82.5), (113.37868, -83.37868), (112.5, -85.5))
            Line((112.5, -85.5), (112.5, -110))
        make_face()
    extrude(amount=F2_DEPTH)


with BuildPart() as f3:
    # F0 (on Top) → F3 (new body)
    with BuildSketch(Plane.XY):
        with Locations((-70, -122.271573)):
            Rectangle(F0_W, F0_H)
        with BuildLine():
            ThreePointArc((-52.5, -124.771573), (-50, -122.271573), (-52.5, -119.771573))
            Line((-52.5, -119.771573), (-52.5, -124.771573))
        make_face()
        with BuildLine():
            Line((-87.5, -124.771573), (-87.5, -119.771573))
            ThreePointArc((-87.5, -119.771573), (-90, -122.271573), (-87.5, -124.771573))
        make_face()
    extrude(amount=F3_DEPTH)


solid = Compound([f1.part, f3.part])
